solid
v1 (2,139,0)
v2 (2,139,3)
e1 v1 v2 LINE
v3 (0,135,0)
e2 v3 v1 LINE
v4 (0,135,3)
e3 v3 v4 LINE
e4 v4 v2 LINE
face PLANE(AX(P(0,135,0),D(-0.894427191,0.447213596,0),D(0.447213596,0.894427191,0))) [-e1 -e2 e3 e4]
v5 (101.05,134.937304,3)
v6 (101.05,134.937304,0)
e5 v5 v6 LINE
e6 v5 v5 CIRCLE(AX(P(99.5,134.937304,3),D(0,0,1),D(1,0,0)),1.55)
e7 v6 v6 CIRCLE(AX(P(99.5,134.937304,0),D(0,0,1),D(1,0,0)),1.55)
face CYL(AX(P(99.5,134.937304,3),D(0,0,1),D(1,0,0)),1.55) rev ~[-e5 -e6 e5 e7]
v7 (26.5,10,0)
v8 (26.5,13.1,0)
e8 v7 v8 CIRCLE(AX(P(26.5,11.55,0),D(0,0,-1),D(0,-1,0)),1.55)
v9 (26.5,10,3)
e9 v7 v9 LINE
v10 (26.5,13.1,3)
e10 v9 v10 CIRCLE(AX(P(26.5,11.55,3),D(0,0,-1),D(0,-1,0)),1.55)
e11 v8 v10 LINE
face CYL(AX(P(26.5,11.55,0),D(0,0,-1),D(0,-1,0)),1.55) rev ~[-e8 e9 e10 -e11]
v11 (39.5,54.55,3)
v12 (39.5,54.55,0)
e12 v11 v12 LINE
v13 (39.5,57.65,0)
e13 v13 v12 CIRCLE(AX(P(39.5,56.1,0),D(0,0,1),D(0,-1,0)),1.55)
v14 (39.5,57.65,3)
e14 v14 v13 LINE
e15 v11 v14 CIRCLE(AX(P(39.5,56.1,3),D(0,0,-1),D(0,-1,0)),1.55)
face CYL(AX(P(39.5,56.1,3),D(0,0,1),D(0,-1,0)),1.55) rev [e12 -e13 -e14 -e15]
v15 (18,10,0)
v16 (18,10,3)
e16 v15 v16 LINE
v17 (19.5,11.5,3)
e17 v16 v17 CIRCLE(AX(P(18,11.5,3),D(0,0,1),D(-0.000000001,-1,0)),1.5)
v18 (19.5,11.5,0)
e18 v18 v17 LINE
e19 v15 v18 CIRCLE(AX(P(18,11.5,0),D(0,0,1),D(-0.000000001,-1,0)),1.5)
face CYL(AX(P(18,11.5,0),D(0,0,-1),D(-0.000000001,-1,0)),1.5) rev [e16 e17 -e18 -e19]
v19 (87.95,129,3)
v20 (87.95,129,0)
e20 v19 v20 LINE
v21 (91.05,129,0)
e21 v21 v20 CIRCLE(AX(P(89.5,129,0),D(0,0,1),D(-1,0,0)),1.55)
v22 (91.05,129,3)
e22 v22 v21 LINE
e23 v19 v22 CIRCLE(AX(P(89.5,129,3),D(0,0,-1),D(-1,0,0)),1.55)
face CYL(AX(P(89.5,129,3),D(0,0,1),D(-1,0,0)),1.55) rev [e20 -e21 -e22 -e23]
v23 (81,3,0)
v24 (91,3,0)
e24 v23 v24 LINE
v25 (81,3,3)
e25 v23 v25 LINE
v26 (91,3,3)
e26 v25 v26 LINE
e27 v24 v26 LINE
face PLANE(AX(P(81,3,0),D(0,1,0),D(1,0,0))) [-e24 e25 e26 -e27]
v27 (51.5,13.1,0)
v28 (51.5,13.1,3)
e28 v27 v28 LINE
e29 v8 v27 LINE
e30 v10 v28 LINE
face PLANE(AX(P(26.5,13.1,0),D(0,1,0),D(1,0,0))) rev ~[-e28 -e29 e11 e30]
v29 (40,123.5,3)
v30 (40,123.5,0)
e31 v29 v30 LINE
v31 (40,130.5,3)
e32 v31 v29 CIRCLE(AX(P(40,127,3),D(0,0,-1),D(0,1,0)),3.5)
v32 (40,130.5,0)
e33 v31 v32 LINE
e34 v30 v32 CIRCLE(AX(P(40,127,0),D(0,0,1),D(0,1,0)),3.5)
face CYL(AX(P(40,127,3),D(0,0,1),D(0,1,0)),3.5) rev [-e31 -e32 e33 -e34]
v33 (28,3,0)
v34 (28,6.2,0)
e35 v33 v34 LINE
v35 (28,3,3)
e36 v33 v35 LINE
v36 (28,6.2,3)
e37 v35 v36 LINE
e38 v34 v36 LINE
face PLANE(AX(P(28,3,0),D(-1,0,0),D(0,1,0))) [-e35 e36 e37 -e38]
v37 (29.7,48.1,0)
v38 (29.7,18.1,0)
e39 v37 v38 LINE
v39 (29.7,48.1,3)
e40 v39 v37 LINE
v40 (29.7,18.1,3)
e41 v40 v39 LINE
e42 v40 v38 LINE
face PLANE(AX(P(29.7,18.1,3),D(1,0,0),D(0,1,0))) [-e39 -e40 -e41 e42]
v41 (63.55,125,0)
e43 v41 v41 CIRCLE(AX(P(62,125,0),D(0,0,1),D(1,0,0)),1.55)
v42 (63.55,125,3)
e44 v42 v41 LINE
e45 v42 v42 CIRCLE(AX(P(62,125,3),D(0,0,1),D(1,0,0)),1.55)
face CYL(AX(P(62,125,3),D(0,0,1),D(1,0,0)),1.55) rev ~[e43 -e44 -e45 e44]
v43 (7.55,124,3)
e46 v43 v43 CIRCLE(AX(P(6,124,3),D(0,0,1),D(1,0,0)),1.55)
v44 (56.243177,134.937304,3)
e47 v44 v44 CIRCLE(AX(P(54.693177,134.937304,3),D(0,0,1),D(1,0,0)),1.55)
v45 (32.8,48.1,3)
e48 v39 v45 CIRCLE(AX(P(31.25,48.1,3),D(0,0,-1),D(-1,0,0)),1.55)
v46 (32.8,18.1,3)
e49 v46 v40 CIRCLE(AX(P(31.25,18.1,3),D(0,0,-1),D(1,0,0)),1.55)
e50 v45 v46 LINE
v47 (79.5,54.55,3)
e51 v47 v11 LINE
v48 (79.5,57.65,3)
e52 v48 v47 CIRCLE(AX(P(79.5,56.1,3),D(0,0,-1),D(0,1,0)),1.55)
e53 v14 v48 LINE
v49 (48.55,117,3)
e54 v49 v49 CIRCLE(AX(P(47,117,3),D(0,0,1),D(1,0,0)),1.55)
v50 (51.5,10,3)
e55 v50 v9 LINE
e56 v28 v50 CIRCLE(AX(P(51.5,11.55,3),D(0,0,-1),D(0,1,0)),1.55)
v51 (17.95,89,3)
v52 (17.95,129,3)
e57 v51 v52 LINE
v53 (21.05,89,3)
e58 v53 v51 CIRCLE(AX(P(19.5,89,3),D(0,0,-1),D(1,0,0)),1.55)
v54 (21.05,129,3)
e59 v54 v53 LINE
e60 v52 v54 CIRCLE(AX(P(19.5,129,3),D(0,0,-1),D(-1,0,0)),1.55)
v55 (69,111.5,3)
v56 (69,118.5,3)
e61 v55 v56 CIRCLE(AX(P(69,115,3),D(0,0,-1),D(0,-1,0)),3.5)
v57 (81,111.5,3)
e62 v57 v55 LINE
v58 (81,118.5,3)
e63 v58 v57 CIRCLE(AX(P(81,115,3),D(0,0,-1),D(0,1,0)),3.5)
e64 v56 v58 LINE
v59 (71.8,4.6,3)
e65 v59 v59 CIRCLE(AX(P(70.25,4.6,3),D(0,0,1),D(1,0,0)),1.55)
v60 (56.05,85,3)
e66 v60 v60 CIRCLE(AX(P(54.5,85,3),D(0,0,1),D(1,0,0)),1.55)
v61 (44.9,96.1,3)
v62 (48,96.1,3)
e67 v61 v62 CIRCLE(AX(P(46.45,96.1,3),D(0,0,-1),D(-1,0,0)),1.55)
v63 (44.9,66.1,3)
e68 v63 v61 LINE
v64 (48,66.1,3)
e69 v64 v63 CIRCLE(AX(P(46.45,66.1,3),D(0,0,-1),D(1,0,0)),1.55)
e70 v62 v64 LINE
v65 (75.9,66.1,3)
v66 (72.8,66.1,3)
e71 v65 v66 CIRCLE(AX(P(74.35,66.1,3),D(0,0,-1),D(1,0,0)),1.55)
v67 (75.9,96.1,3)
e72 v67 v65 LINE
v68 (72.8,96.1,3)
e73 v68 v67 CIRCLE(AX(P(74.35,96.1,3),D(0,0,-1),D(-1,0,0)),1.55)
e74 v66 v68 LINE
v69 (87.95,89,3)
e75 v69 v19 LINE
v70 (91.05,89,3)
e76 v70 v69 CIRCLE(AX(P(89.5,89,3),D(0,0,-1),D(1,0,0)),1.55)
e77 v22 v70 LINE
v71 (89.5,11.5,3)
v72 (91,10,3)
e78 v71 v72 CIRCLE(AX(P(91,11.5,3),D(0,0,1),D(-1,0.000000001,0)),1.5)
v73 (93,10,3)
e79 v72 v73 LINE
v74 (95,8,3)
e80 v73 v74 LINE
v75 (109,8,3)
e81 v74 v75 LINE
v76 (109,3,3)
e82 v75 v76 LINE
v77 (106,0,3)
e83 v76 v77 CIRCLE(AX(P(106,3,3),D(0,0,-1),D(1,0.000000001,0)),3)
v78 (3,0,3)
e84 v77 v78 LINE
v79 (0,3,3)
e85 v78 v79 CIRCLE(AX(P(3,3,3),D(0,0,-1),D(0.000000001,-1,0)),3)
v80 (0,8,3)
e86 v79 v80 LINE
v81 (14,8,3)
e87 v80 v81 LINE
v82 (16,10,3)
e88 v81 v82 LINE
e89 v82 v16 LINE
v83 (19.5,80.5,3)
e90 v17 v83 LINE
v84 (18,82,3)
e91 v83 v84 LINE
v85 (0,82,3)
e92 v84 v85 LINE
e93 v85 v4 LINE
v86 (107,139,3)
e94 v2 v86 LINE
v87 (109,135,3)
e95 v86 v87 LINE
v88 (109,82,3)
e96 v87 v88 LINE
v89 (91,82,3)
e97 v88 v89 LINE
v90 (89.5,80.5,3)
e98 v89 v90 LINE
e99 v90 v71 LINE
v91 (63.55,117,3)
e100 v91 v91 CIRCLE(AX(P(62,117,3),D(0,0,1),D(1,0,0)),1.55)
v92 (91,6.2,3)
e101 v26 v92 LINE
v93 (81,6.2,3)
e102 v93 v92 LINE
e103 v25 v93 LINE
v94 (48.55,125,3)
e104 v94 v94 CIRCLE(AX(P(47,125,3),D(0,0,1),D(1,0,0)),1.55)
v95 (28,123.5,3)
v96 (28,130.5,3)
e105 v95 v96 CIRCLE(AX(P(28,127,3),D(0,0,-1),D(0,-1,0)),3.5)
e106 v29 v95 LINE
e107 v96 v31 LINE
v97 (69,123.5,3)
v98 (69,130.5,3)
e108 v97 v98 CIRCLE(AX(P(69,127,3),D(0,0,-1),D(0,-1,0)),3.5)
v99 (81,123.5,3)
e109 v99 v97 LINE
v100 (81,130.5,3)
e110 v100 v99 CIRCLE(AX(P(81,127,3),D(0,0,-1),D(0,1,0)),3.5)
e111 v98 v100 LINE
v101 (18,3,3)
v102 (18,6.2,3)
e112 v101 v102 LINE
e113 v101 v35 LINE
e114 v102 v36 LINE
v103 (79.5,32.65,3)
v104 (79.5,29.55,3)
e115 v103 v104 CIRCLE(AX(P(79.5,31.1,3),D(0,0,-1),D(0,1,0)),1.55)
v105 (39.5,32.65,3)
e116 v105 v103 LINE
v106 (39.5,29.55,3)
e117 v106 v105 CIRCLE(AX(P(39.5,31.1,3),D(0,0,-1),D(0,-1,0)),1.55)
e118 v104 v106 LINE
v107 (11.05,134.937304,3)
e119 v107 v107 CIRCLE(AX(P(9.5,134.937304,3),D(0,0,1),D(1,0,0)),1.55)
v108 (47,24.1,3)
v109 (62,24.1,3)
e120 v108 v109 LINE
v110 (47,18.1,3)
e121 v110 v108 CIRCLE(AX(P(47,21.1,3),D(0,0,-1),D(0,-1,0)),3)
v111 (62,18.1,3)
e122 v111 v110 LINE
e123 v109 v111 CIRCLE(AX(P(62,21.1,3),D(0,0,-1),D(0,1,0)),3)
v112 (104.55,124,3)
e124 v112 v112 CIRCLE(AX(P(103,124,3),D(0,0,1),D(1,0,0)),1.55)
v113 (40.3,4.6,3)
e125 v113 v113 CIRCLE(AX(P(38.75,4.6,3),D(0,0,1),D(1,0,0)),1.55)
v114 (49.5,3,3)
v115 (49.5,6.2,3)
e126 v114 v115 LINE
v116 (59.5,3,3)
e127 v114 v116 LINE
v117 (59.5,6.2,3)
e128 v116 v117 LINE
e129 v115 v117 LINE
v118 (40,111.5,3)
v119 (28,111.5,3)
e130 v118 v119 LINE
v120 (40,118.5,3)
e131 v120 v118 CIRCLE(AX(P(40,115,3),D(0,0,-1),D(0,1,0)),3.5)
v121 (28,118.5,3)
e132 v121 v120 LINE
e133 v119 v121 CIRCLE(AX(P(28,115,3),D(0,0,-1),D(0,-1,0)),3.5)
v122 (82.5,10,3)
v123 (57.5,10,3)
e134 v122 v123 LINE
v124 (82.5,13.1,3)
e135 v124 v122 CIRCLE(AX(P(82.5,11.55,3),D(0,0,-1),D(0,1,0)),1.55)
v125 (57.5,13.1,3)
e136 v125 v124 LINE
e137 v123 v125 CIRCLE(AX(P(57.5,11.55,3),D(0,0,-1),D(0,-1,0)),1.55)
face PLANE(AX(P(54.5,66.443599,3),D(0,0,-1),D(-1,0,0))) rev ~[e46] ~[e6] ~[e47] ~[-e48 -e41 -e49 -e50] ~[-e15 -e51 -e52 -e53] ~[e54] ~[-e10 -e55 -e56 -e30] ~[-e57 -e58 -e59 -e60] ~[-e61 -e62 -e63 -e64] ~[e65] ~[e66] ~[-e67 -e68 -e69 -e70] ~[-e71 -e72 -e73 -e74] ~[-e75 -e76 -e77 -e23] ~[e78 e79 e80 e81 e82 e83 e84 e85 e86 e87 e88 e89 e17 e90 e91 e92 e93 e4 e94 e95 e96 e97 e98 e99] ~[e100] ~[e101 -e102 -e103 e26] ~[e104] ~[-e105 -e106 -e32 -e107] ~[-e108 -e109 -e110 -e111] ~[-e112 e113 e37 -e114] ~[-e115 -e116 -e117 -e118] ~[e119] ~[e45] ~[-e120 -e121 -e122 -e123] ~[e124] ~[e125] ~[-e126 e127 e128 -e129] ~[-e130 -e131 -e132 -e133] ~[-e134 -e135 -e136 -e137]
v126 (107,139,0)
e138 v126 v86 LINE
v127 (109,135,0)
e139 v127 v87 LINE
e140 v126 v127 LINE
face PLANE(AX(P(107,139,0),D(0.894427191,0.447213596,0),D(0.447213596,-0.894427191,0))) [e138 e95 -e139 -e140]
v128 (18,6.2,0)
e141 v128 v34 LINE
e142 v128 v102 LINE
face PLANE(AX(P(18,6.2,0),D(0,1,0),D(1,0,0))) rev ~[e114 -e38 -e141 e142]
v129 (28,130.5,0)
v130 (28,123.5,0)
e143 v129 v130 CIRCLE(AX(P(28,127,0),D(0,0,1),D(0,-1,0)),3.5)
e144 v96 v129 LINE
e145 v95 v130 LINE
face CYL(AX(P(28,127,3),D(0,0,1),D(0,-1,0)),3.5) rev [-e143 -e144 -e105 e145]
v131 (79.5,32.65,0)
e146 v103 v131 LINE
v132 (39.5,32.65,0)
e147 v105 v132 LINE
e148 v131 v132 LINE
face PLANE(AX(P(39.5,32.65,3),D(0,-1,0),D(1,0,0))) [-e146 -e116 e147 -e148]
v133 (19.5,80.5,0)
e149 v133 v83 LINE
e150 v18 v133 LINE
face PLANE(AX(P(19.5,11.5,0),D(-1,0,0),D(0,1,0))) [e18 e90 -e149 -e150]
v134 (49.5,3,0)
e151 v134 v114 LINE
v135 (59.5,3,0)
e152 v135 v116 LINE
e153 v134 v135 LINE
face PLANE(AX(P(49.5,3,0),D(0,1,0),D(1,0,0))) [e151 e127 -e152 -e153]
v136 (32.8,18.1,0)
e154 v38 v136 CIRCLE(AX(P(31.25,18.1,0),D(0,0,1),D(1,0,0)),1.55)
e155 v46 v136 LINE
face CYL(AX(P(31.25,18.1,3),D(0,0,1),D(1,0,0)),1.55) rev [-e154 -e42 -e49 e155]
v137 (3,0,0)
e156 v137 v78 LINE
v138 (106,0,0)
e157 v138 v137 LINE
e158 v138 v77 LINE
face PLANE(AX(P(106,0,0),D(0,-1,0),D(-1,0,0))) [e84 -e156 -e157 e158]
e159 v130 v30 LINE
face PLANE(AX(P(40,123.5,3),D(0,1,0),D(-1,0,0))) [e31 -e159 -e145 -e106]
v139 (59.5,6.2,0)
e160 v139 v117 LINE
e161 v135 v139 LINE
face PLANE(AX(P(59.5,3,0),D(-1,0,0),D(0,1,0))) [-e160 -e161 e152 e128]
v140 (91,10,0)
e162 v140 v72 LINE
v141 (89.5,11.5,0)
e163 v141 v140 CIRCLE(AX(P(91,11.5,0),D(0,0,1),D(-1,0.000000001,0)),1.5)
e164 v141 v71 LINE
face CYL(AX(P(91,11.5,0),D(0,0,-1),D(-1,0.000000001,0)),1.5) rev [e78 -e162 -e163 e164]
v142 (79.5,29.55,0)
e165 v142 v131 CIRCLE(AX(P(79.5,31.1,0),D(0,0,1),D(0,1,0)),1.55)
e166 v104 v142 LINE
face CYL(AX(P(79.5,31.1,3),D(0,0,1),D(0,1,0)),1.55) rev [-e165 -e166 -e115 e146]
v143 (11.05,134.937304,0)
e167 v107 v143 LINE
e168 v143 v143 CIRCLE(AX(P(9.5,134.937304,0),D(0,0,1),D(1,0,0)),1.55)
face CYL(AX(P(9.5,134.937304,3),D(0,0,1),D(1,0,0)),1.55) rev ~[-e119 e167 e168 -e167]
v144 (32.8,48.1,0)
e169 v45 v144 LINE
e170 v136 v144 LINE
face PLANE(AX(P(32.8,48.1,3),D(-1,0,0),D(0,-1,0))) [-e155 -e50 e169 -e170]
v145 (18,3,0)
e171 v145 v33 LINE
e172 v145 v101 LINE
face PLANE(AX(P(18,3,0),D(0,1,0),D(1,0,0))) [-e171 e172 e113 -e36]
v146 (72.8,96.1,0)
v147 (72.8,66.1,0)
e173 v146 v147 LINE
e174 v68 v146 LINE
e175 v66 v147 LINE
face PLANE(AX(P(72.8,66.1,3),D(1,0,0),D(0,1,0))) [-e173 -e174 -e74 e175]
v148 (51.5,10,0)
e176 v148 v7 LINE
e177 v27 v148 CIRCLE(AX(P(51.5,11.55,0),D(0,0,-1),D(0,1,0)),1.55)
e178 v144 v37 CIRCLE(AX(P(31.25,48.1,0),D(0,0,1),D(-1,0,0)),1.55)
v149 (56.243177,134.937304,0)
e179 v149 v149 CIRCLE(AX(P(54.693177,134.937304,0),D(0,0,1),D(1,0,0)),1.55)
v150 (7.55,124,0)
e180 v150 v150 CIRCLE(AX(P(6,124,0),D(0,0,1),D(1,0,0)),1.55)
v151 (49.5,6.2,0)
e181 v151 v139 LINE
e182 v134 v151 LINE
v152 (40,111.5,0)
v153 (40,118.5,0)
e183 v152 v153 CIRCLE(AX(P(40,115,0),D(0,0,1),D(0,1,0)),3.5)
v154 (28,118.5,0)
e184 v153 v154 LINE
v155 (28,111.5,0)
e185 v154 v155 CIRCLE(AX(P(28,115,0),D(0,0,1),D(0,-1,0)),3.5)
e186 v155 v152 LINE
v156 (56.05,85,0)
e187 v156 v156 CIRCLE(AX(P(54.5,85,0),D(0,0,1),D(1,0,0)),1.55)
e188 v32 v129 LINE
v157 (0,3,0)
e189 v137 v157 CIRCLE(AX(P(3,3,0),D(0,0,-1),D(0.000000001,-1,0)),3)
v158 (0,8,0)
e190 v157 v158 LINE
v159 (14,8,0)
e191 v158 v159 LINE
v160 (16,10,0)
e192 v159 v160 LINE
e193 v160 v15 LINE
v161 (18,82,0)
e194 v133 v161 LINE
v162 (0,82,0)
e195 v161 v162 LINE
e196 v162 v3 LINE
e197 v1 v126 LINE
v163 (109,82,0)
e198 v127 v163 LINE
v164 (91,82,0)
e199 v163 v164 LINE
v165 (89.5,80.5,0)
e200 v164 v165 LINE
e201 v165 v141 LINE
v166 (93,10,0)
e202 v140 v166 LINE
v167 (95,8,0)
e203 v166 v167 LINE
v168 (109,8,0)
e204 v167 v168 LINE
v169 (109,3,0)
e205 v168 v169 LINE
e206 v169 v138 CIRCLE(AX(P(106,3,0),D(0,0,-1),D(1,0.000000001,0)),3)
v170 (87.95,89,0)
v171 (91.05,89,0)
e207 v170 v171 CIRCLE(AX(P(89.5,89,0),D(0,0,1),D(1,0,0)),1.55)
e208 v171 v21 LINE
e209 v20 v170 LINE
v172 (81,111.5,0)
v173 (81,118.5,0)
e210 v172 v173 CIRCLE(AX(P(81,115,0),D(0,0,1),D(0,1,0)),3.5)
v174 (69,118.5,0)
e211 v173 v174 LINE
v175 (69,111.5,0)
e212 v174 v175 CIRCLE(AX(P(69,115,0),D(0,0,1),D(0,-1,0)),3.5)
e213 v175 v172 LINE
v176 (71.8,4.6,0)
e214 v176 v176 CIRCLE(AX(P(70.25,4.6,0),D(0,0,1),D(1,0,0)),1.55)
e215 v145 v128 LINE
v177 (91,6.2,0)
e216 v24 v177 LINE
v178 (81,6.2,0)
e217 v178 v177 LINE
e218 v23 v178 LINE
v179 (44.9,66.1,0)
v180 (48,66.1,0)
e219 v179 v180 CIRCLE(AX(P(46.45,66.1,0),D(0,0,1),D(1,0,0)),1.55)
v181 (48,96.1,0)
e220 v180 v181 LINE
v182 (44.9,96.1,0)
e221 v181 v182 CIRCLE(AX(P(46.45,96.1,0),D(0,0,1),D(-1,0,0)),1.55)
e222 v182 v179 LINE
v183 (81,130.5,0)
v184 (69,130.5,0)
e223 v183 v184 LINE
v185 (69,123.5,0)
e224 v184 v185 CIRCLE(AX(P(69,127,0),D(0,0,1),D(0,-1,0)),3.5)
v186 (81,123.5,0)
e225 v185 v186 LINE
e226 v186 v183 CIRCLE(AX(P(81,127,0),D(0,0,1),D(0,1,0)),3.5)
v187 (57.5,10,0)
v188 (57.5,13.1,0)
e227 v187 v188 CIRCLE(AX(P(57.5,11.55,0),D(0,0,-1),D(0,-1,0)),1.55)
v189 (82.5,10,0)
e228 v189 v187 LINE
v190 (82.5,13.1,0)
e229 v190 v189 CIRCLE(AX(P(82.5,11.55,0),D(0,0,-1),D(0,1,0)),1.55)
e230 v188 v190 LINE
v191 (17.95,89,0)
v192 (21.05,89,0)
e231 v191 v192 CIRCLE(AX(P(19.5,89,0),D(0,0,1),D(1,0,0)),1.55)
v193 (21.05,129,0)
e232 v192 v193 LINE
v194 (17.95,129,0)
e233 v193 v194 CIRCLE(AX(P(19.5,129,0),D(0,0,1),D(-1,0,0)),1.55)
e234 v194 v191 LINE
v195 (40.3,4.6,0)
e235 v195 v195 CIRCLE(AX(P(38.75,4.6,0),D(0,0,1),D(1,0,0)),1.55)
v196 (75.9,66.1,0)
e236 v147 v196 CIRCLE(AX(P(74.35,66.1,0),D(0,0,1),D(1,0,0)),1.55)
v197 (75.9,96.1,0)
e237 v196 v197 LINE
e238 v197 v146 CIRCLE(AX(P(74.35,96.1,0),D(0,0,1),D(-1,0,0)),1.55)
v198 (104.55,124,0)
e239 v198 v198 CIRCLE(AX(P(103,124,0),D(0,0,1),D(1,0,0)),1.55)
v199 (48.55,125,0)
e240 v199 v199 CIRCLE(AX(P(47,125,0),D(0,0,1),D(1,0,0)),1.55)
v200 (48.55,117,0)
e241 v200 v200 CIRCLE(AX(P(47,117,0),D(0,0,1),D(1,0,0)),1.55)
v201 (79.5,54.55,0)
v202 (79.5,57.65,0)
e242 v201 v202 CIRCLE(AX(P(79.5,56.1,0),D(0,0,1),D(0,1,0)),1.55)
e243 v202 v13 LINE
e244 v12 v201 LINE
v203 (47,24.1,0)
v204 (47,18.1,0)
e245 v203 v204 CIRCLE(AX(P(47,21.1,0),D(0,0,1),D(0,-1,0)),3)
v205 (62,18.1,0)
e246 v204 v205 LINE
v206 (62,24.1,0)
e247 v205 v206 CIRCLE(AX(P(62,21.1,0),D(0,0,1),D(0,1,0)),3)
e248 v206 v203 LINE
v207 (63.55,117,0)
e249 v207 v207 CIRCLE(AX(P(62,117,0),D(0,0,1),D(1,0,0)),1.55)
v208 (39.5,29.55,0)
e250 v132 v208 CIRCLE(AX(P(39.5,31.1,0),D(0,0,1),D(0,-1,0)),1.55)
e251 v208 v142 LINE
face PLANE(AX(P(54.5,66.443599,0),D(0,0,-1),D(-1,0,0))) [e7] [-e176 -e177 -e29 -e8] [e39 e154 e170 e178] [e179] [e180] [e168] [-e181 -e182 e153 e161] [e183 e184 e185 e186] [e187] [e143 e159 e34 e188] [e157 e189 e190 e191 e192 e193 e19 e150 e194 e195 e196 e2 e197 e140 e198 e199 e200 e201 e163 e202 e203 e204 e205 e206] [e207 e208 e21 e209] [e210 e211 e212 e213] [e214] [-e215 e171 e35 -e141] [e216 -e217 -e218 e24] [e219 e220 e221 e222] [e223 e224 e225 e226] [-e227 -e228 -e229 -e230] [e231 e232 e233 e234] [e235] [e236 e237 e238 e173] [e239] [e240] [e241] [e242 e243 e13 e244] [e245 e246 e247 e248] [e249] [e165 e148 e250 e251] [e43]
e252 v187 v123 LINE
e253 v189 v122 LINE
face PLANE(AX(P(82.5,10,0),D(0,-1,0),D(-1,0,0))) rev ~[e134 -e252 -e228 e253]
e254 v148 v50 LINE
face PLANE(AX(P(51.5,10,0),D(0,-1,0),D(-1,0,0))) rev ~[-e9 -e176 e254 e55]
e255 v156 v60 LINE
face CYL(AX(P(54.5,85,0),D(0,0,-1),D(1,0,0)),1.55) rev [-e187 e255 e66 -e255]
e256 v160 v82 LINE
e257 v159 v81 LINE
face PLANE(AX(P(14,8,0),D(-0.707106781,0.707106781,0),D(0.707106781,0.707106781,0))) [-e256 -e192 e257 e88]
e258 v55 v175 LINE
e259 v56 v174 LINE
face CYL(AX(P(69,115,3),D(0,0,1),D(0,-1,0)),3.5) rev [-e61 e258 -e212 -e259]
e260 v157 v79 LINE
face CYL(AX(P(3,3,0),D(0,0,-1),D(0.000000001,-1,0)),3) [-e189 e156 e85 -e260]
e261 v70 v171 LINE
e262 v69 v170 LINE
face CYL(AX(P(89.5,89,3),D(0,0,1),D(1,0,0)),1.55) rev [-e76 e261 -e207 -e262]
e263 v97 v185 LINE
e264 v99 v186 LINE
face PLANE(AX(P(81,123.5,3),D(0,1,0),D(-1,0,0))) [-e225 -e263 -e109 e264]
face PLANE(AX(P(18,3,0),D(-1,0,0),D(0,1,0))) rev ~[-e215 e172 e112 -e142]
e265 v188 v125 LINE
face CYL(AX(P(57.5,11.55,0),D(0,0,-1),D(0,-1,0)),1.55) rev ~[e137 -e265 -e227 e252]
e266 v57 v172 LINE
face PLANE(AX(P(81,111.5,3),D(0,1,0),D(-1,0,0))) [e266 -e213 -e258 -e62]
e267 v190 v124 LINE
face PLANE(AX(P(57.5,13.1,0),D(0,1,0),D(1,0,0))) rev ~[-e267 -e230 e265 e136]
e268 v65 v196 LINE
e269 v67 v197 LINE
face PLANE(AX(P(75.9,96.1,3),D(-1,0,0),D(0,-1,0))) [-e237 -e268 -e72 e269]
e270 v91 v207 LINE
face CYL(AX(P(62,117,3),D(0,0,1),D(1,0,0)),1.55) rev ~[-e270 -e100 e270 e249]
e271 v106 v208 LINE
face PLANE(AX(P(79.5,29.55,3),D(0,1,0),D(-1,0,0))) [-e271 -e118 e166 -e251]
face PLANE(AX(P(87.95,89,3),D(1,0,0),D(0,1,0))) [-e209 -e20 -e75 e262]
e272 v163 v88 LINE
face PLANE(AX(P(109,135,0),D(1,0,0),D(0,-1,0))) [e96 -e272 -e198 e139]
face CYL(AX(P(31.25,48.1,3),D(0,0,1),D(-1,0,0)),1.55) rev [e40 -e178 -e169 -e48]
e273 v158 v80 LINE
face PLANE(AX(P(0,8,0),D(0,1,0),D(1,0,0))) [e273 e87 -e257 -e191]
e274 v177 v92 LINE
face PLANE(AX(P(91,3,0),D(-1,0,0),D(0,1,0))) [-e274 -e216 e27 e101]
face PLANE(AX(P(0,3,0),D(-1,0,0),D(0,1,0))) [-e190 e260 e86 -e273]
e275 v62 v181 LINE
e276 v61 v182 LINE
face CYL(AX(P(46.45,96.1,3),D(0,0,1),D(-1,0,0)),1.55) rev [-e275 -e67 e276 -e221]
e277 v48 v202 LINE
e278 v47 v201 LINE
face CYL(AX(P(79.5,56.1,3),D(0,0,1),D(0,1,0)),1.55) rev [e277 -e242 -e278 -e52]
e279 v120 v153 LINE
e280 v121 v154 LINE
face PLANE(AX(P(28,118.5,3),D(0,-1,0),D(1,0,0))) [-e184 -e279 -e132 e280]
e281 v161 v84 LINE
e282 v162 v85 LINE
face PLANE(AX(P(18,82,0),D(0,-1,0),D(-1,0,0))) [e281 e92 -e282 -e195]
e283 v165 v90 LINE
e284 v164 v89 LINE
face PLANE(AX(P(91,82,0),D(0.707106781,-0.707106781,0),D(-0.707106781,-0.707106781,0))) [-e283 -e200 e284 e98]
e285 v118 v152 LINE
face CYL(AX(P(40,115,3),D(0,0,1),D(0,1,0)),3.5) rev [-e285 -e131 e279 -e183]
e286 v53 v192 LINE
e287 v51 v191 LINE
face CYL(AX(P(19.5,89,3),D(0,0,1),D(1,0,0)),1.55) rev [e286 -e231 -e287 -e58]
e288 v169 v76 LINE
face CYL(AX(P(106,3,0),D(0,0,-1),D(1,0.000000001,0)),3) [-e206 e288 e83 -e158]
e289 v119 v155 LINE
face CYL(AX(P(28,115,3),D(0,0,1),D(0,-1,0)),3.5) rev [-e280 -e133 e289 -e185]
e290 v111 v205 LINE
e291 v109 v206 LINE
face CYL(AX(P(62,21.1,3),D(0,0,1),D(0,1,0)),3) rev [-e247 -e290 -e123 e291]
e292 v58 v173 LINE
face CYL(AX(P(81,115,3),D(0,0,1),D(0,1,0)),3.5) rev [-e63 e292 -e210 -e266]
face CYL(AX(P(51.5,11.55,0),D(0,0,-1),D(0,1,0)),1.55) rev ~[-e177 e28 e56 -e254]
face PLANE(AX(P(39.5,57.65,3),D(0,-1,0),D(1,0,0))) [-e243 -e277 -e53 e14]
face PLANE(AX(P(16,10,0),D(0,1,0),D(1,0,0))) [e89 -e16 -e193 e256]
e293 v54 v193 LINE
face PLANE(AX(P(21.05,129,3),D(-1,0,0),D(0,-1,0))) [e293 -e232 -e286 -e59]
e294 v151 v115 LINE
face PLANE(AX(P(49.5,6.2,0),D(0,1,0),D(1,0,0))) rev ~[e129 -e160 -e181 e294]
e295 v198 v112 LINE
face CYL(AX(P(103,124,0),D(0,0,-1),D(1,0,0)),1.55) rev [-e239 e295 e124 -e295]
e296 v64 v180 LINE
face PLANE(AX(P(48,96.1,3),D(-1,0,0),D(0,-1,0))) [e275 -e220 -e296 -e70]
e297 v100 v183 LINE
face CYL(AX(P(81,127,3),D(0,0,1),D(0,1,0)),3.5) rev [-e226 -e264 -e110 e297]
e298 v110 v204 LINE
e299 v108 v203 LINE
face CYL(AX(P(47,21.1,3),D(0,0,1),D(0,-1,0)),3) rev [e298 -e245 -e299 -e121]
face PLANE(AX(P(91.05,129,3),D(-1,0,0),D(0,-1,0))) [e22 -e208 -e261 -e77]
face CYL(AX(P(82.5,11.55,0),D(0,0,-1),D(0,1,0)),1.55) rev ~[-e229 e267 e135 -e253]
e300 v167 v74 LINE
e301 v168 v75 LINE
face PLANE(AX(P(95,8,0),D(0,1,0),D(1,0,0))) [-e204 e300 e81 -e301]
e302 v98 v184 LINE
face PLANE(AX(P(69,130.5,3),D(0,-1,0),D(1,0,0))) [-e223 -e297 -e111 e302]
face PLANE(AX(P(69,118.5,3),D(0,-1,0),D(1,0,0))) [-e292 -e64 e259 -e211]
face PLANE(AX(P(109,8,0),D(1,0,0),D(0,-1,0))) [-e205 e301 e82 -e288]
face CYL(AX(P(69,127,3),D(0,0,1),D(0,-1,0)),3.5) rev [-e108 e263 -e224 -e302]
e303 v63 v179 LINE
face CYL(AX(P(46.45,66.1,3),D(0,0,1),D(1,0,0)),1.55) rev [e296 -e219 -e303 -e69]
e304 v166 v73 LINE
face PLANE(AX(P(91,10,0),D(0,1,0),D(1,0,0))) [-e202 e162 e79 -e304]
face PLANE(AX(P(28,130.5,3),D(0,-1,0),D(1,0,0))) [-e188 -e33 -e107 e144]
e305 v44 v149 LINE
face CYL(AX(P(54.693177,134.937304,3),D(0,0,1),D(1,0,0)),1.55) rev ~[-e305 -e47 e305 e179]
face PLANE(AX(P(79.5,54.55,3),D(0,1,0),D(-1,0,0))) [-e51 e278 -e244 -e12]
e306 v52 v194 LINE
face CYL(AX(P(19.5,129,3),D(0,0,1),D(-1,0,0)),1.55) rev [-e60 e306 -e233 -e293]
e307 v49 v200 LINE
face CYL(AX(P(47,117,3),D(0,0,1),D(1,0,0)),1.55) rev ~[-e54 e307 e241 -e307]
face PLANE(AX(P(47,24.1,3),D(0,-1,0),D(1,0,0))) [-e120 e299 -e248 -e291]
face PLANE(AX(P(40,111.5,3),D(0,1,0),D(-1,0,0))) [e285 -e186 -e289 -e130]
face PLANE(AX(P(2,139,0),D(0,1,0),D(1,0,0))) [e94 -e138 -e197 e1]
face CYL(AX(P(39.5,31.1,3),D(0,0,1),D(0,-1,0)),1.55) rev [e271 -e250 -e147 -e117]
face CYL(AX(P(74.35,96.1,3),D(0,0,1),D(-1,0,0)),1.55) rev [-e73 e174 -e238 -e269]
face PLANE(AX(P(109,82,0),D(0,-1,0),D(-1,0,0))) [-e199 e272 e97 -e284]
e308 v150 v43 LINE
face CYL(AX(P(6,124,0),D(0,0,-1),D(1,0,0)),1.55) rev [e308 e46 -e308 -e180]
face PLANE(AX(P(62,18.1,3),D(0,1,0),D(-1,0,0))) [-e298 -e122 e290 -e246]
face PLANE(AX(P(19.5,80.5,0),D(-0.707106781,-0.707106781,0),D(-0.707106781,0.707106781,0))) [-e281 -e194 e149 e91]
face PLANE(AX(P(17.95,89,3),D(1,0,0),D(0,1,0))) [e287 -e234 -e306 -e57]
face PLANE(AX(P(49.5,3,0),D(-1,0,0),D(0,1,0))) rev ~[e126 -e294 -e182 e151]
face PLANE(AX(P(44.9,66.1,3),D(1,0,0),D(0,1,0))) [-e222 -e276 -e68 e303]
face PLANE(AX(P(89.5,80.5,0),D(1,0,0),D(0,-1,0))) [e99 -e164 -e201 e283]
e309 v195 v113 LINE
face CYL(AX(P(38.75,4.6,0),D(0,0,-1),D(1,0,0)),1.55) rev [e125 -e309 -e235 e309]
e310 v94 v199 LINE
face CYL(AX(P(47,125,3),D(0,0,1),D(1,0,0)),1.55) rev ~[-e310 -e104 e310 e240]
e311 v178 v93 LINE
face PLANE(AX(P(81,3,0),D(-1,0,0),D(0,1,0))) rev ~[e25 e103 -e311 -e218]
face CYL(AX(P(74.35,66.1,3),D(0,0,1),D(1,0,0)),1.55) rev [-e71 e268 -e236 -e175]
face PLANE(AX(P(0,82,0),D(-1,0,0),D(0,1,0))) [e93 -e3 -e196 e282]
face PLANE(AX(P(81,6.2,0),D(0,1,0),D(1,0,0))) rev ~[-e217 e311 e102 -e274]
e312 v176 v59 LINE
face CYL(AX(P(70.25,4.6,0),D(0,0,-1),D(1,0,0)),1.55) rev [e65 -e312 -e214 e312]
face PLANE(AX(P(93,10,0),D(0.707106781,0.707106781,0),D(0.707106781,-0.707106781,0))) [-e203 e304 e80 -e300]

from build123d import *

# Parameters (mm, degrees)
ESBO_O1_R                = 1.55
ESBO_O1_W                = 10
ESBO_O1_H                = 3.2
RESSALTO_EXTRUS_O1_DEPTH = 3
ESBO_O2_R                = 1.55
CORTE_EXTRUS_O1_DEPTH    = 177.666352201
ESBO_O3_R                = 1.55
CORTE_EXTRUS_O2_DEPTH    = 10


with BuildPart() as part:
    # Esboço1 → Ressalto-extrusão1 (new body)
    with BuildSketch(Plane.XY):
        with BuildLine():
            Line((0, 82), (0, 135))
            Line((0, 135), (2, 139))
            Line((2, 139), (107, 139))
            Line((107, 139), (109, 135))
            Line((109, 135), (109, 82))
            Line((109, 82), (91, 82))
            Line((91, 82), (89.5, 80.5))
            Line((89.5, 80.5), (89.5, 11.5))
            ThreePointArc((89.5, 11.5), (89.939339828, 10.439339828), (91, 10))
            Line((91, 10), (93, 10))
            Line((93, 10), (95, 8))
            Line((95, 8), (109, 8))
            Line((109, 8), (109, 3))
            ThreePointArc((109, 3), (108.121320344, 0.878679656), (106, 0))
            Line((106, 0), (3, 0))
            ThreePointArc((3, 0), (0.878679656, 0.878679656), (0, 3))
            Line((0, 3), (0, 8))
            Line((0, 8), (14, 8))
            Line((14, 8), (16, 10))
            Line((16, 10), (18, 10))
            ThreePointArc((18, 10), (19.060660172, 10.439339828), (19.5, 11.5))
            Line((19.5, 11.5), (19.5, 80.5))
            Line((19.5, 80.5), (18, 82))
            Line((18, 82), (0, 82))
        make_face()
        with Locations((38.75, 4.6)):
            Circle(ESBO_O1_R, mode=Mode.SUBTRACT)
        with Locations((70.25, 4.6)):
            Circle(ESBO_O1_R, mode=Mode.SUBTRACT)
        with Locations((54.5, 85)):
            Circle(ESBO_O1_R, mode=Mode.SUBTRACT)
        with Locations((6, 124)):
            Circle(ESBO_O1_R, mode=Mode.SUBTRACT)
        with Locations((103, 124)):
            Circle(ESBO_O1_R, mode=Mode.SUBTRACT)
        with Locations((23, 4.6)):
            Rectangle(ESBO_O1_W, ESBO_O1_H, mode=Mode.SUBTRACT)
        with Locations((54.5, 4.6)):
            Rectangle(ESBO_O1_W, ESBO_O1_H, mode=Mode.SUBTRACT)
        with Locations((86, 4.6)):
            Rectangle(ESBO_O1_W, ESBO_O1_H, mode=Mode.SUBTRACT)
        with BuildLine():
            Line((26.5, 13.1), (51.5, 13.1))
            ThreePointArc((51.5, 13.1), (53.05, 11.55), (51.5, 10))
            Line((51.5, 10), (26.5, 10))
            ThreePointArc((26.5, 10), (24.95, 11.55), (26.5, 13.1))
        make_face(mode=Mode.SUBTRACT)
        with BuildLine():
            Line((57.5, 13.1), (82.5, 13.1))
            ThreePointArc((82.5, 13.1), (84.05, 11.55), (82.5, 10))
            Line((82.5, 10), (57.5, 10))
            ThreePointArc((57.5, 10), (55.95, 11.55), (57.5, 13.1))
        make_face(mode=Mode.SUBTRACT)
    extrude(amount=RESSALTO_EXTRUS_O1_DEPTH)

    # Esboço2 → Corte-extrusão1 (cut, through all)
    with BuildSketch(Plane.XY.offset(3)):
        with Locations((47, 117)):
            Circle(ESBO_O2_R)
        with Locations((47, 125)):
            Circle(ESBO_O2_R)
        with Locations((62, 117)):
            Circle(ESBO_O2_R)
        with Locations((62, 125)):
            Circle(ESBO_O2_R)
        with BuildLine():
            Line((47, 24.1), (62, 24.1))
            ThreePointArc((62, 24.1), (65, 21.1), (62, 18.1))
            Line((62, 18.1), (47, 18.1))
            ThreePointArc((47, 18.1), (44, 21.1), (47, 24.1))
        make_face()
        with BuildLine():
            Line((21.05, 129), (21.05, 89))
            ThreePointArc((21.05, 89), (19.5, 87.45), (17.95, 89))
            Line((17.95, 89), (17.95, 129))
            ThreePointArc((17.95, 129), (19.5, 130.55), (21.05, 129))
        make_face()
        with BuildLine():
            Line((29.7, 18.1), (29.7, 48.1))
            ThreePointArc((29.7, 48.1), (31.25, 49.65), (32.8, 48.1))
            Line((32.8, 48.1), (32.8, 18.1))
            ThreePointArc((32.8, 18.1), (31.25, 16.55), (29.7, 18.1))
        make_face()
        with BuildLine():
            Line((75.9, 96.1), (75.9, 66.1))
            ThreePointArc((75.9, 66.1), (74.35, 64.55), (72.8, 66.1))
            Line((72.8, 66.1), (72.8, 96.1))
            ThreePointArc((72.8, 96.1), (74.35, 97.65), (75.9, 96.1))
        make_face()
        with BuildLine():
            Line((48, 96.1), (48, 66.1))
            ThreePointArc((48, 66.1), (46.45, 64.55), (44.9, 66.1))
            Line((44.9, 66.1), (44.9, 96.1))
            ThreePointArc((44.9, 96.1), (46.45, 97.65), (48, 96.1))
        make_face()
        with BuildLine():
            Line((28, 118.5), (40, 118.5))
            ThreePointArc((40, 118.5), (43.5, 115), (40, 111.5))
            Line((40, 111.5), (28, 111.5))
            ThreePointArc((28, 111.5), (24.5, 115), (28, 118.5))
        make_face()
        with BuildLine():
            Line((28, 130.5), (40, 130.5))
            ThreePointArc((40, 130.5), (43.5, 127), (40, 123.5))
            Line((40, 123.5), (28, 123.5))
            ThreePointArc((28, 123.5), (24.5, 127), (28, 130.5))
        make_face()
        with BuildLine():
            Line((91.05, 129), (91.05, 89))
            ThreePointArc((91.05, 89), (89.5, 87.45), (87.95, 89))
            Line((87.95, 89), (87.95, 129))
            ThreePointArc((87.95, 129), (89.5, 130.55), (91.05, 129))
        make_face()
        with BuildLine():
            Line((69, 118.5), (81, 118.5))
            ThreePointArc((81, 118.5), (84.5, 115), (81, 111.5))
            Line((81, 111.5), (69, 111.5))
            ThreePointArc((69, 111.5), (65.5, 115), (69, 118.5))
        make_face()
        with BuildLine():
            Line((69, 130.5), (81, 130.5))
            ThreePointArc((81, 130.5), (84.5, 127), (81, 123.5))
            Line((81, 123.5), (69, 123.5))
            ThreePointArc((69, 123.5), (65.5, 127), (69, 130.5))
        make_face()
        with BuildLine():
            Line((39.5, 32.65), (79.5, 32.65))
            ThreePointArc((79.5, 32.65), (81.05, 31.1), (79.5, 29.55))
            Line((79.5, 29.55), (39.5, 29.55))
            ThreePointArc((39.5, 29.55), (37.95, 31.1), (39.5, 32.65))
        make_face()
        with BuildLine():
            Line((39.5, 57.65), (79.5, 57.65))
            ThreePointArc((79.5, 57.65), (81.05, 56.1), (79.5, 54.55))
            Line((79.5, 54.55), (39.5, 54.55))
            ThreePointArc((39.5, 54.55), (37.95, 56.1), (39.5, 57.65))
        make_face()
    extrude(amount=-CORTE_EXTRUS_O1_DEPTH, mode=Mode.SUBTRACT)

    # Esboço3 → Corte-extrusão2 (cut)
    with BuildSketch(Plane.XY.offset(3)):
        with Locations((54.693176617, 134.937304028)):
            Circle(ESBO_O3_R)
        with Locations((9.5, 134.937304028)):
            Circle(ESBO_O3_R)
        with Locations((99.5, 134.937304028)):
            Circle(ESBO_O3_R)
    extrude(amount=-CORTE_EXTRUS_O2_DEPTH, mode=Mode.SUBTRACT)


solid = part.part
